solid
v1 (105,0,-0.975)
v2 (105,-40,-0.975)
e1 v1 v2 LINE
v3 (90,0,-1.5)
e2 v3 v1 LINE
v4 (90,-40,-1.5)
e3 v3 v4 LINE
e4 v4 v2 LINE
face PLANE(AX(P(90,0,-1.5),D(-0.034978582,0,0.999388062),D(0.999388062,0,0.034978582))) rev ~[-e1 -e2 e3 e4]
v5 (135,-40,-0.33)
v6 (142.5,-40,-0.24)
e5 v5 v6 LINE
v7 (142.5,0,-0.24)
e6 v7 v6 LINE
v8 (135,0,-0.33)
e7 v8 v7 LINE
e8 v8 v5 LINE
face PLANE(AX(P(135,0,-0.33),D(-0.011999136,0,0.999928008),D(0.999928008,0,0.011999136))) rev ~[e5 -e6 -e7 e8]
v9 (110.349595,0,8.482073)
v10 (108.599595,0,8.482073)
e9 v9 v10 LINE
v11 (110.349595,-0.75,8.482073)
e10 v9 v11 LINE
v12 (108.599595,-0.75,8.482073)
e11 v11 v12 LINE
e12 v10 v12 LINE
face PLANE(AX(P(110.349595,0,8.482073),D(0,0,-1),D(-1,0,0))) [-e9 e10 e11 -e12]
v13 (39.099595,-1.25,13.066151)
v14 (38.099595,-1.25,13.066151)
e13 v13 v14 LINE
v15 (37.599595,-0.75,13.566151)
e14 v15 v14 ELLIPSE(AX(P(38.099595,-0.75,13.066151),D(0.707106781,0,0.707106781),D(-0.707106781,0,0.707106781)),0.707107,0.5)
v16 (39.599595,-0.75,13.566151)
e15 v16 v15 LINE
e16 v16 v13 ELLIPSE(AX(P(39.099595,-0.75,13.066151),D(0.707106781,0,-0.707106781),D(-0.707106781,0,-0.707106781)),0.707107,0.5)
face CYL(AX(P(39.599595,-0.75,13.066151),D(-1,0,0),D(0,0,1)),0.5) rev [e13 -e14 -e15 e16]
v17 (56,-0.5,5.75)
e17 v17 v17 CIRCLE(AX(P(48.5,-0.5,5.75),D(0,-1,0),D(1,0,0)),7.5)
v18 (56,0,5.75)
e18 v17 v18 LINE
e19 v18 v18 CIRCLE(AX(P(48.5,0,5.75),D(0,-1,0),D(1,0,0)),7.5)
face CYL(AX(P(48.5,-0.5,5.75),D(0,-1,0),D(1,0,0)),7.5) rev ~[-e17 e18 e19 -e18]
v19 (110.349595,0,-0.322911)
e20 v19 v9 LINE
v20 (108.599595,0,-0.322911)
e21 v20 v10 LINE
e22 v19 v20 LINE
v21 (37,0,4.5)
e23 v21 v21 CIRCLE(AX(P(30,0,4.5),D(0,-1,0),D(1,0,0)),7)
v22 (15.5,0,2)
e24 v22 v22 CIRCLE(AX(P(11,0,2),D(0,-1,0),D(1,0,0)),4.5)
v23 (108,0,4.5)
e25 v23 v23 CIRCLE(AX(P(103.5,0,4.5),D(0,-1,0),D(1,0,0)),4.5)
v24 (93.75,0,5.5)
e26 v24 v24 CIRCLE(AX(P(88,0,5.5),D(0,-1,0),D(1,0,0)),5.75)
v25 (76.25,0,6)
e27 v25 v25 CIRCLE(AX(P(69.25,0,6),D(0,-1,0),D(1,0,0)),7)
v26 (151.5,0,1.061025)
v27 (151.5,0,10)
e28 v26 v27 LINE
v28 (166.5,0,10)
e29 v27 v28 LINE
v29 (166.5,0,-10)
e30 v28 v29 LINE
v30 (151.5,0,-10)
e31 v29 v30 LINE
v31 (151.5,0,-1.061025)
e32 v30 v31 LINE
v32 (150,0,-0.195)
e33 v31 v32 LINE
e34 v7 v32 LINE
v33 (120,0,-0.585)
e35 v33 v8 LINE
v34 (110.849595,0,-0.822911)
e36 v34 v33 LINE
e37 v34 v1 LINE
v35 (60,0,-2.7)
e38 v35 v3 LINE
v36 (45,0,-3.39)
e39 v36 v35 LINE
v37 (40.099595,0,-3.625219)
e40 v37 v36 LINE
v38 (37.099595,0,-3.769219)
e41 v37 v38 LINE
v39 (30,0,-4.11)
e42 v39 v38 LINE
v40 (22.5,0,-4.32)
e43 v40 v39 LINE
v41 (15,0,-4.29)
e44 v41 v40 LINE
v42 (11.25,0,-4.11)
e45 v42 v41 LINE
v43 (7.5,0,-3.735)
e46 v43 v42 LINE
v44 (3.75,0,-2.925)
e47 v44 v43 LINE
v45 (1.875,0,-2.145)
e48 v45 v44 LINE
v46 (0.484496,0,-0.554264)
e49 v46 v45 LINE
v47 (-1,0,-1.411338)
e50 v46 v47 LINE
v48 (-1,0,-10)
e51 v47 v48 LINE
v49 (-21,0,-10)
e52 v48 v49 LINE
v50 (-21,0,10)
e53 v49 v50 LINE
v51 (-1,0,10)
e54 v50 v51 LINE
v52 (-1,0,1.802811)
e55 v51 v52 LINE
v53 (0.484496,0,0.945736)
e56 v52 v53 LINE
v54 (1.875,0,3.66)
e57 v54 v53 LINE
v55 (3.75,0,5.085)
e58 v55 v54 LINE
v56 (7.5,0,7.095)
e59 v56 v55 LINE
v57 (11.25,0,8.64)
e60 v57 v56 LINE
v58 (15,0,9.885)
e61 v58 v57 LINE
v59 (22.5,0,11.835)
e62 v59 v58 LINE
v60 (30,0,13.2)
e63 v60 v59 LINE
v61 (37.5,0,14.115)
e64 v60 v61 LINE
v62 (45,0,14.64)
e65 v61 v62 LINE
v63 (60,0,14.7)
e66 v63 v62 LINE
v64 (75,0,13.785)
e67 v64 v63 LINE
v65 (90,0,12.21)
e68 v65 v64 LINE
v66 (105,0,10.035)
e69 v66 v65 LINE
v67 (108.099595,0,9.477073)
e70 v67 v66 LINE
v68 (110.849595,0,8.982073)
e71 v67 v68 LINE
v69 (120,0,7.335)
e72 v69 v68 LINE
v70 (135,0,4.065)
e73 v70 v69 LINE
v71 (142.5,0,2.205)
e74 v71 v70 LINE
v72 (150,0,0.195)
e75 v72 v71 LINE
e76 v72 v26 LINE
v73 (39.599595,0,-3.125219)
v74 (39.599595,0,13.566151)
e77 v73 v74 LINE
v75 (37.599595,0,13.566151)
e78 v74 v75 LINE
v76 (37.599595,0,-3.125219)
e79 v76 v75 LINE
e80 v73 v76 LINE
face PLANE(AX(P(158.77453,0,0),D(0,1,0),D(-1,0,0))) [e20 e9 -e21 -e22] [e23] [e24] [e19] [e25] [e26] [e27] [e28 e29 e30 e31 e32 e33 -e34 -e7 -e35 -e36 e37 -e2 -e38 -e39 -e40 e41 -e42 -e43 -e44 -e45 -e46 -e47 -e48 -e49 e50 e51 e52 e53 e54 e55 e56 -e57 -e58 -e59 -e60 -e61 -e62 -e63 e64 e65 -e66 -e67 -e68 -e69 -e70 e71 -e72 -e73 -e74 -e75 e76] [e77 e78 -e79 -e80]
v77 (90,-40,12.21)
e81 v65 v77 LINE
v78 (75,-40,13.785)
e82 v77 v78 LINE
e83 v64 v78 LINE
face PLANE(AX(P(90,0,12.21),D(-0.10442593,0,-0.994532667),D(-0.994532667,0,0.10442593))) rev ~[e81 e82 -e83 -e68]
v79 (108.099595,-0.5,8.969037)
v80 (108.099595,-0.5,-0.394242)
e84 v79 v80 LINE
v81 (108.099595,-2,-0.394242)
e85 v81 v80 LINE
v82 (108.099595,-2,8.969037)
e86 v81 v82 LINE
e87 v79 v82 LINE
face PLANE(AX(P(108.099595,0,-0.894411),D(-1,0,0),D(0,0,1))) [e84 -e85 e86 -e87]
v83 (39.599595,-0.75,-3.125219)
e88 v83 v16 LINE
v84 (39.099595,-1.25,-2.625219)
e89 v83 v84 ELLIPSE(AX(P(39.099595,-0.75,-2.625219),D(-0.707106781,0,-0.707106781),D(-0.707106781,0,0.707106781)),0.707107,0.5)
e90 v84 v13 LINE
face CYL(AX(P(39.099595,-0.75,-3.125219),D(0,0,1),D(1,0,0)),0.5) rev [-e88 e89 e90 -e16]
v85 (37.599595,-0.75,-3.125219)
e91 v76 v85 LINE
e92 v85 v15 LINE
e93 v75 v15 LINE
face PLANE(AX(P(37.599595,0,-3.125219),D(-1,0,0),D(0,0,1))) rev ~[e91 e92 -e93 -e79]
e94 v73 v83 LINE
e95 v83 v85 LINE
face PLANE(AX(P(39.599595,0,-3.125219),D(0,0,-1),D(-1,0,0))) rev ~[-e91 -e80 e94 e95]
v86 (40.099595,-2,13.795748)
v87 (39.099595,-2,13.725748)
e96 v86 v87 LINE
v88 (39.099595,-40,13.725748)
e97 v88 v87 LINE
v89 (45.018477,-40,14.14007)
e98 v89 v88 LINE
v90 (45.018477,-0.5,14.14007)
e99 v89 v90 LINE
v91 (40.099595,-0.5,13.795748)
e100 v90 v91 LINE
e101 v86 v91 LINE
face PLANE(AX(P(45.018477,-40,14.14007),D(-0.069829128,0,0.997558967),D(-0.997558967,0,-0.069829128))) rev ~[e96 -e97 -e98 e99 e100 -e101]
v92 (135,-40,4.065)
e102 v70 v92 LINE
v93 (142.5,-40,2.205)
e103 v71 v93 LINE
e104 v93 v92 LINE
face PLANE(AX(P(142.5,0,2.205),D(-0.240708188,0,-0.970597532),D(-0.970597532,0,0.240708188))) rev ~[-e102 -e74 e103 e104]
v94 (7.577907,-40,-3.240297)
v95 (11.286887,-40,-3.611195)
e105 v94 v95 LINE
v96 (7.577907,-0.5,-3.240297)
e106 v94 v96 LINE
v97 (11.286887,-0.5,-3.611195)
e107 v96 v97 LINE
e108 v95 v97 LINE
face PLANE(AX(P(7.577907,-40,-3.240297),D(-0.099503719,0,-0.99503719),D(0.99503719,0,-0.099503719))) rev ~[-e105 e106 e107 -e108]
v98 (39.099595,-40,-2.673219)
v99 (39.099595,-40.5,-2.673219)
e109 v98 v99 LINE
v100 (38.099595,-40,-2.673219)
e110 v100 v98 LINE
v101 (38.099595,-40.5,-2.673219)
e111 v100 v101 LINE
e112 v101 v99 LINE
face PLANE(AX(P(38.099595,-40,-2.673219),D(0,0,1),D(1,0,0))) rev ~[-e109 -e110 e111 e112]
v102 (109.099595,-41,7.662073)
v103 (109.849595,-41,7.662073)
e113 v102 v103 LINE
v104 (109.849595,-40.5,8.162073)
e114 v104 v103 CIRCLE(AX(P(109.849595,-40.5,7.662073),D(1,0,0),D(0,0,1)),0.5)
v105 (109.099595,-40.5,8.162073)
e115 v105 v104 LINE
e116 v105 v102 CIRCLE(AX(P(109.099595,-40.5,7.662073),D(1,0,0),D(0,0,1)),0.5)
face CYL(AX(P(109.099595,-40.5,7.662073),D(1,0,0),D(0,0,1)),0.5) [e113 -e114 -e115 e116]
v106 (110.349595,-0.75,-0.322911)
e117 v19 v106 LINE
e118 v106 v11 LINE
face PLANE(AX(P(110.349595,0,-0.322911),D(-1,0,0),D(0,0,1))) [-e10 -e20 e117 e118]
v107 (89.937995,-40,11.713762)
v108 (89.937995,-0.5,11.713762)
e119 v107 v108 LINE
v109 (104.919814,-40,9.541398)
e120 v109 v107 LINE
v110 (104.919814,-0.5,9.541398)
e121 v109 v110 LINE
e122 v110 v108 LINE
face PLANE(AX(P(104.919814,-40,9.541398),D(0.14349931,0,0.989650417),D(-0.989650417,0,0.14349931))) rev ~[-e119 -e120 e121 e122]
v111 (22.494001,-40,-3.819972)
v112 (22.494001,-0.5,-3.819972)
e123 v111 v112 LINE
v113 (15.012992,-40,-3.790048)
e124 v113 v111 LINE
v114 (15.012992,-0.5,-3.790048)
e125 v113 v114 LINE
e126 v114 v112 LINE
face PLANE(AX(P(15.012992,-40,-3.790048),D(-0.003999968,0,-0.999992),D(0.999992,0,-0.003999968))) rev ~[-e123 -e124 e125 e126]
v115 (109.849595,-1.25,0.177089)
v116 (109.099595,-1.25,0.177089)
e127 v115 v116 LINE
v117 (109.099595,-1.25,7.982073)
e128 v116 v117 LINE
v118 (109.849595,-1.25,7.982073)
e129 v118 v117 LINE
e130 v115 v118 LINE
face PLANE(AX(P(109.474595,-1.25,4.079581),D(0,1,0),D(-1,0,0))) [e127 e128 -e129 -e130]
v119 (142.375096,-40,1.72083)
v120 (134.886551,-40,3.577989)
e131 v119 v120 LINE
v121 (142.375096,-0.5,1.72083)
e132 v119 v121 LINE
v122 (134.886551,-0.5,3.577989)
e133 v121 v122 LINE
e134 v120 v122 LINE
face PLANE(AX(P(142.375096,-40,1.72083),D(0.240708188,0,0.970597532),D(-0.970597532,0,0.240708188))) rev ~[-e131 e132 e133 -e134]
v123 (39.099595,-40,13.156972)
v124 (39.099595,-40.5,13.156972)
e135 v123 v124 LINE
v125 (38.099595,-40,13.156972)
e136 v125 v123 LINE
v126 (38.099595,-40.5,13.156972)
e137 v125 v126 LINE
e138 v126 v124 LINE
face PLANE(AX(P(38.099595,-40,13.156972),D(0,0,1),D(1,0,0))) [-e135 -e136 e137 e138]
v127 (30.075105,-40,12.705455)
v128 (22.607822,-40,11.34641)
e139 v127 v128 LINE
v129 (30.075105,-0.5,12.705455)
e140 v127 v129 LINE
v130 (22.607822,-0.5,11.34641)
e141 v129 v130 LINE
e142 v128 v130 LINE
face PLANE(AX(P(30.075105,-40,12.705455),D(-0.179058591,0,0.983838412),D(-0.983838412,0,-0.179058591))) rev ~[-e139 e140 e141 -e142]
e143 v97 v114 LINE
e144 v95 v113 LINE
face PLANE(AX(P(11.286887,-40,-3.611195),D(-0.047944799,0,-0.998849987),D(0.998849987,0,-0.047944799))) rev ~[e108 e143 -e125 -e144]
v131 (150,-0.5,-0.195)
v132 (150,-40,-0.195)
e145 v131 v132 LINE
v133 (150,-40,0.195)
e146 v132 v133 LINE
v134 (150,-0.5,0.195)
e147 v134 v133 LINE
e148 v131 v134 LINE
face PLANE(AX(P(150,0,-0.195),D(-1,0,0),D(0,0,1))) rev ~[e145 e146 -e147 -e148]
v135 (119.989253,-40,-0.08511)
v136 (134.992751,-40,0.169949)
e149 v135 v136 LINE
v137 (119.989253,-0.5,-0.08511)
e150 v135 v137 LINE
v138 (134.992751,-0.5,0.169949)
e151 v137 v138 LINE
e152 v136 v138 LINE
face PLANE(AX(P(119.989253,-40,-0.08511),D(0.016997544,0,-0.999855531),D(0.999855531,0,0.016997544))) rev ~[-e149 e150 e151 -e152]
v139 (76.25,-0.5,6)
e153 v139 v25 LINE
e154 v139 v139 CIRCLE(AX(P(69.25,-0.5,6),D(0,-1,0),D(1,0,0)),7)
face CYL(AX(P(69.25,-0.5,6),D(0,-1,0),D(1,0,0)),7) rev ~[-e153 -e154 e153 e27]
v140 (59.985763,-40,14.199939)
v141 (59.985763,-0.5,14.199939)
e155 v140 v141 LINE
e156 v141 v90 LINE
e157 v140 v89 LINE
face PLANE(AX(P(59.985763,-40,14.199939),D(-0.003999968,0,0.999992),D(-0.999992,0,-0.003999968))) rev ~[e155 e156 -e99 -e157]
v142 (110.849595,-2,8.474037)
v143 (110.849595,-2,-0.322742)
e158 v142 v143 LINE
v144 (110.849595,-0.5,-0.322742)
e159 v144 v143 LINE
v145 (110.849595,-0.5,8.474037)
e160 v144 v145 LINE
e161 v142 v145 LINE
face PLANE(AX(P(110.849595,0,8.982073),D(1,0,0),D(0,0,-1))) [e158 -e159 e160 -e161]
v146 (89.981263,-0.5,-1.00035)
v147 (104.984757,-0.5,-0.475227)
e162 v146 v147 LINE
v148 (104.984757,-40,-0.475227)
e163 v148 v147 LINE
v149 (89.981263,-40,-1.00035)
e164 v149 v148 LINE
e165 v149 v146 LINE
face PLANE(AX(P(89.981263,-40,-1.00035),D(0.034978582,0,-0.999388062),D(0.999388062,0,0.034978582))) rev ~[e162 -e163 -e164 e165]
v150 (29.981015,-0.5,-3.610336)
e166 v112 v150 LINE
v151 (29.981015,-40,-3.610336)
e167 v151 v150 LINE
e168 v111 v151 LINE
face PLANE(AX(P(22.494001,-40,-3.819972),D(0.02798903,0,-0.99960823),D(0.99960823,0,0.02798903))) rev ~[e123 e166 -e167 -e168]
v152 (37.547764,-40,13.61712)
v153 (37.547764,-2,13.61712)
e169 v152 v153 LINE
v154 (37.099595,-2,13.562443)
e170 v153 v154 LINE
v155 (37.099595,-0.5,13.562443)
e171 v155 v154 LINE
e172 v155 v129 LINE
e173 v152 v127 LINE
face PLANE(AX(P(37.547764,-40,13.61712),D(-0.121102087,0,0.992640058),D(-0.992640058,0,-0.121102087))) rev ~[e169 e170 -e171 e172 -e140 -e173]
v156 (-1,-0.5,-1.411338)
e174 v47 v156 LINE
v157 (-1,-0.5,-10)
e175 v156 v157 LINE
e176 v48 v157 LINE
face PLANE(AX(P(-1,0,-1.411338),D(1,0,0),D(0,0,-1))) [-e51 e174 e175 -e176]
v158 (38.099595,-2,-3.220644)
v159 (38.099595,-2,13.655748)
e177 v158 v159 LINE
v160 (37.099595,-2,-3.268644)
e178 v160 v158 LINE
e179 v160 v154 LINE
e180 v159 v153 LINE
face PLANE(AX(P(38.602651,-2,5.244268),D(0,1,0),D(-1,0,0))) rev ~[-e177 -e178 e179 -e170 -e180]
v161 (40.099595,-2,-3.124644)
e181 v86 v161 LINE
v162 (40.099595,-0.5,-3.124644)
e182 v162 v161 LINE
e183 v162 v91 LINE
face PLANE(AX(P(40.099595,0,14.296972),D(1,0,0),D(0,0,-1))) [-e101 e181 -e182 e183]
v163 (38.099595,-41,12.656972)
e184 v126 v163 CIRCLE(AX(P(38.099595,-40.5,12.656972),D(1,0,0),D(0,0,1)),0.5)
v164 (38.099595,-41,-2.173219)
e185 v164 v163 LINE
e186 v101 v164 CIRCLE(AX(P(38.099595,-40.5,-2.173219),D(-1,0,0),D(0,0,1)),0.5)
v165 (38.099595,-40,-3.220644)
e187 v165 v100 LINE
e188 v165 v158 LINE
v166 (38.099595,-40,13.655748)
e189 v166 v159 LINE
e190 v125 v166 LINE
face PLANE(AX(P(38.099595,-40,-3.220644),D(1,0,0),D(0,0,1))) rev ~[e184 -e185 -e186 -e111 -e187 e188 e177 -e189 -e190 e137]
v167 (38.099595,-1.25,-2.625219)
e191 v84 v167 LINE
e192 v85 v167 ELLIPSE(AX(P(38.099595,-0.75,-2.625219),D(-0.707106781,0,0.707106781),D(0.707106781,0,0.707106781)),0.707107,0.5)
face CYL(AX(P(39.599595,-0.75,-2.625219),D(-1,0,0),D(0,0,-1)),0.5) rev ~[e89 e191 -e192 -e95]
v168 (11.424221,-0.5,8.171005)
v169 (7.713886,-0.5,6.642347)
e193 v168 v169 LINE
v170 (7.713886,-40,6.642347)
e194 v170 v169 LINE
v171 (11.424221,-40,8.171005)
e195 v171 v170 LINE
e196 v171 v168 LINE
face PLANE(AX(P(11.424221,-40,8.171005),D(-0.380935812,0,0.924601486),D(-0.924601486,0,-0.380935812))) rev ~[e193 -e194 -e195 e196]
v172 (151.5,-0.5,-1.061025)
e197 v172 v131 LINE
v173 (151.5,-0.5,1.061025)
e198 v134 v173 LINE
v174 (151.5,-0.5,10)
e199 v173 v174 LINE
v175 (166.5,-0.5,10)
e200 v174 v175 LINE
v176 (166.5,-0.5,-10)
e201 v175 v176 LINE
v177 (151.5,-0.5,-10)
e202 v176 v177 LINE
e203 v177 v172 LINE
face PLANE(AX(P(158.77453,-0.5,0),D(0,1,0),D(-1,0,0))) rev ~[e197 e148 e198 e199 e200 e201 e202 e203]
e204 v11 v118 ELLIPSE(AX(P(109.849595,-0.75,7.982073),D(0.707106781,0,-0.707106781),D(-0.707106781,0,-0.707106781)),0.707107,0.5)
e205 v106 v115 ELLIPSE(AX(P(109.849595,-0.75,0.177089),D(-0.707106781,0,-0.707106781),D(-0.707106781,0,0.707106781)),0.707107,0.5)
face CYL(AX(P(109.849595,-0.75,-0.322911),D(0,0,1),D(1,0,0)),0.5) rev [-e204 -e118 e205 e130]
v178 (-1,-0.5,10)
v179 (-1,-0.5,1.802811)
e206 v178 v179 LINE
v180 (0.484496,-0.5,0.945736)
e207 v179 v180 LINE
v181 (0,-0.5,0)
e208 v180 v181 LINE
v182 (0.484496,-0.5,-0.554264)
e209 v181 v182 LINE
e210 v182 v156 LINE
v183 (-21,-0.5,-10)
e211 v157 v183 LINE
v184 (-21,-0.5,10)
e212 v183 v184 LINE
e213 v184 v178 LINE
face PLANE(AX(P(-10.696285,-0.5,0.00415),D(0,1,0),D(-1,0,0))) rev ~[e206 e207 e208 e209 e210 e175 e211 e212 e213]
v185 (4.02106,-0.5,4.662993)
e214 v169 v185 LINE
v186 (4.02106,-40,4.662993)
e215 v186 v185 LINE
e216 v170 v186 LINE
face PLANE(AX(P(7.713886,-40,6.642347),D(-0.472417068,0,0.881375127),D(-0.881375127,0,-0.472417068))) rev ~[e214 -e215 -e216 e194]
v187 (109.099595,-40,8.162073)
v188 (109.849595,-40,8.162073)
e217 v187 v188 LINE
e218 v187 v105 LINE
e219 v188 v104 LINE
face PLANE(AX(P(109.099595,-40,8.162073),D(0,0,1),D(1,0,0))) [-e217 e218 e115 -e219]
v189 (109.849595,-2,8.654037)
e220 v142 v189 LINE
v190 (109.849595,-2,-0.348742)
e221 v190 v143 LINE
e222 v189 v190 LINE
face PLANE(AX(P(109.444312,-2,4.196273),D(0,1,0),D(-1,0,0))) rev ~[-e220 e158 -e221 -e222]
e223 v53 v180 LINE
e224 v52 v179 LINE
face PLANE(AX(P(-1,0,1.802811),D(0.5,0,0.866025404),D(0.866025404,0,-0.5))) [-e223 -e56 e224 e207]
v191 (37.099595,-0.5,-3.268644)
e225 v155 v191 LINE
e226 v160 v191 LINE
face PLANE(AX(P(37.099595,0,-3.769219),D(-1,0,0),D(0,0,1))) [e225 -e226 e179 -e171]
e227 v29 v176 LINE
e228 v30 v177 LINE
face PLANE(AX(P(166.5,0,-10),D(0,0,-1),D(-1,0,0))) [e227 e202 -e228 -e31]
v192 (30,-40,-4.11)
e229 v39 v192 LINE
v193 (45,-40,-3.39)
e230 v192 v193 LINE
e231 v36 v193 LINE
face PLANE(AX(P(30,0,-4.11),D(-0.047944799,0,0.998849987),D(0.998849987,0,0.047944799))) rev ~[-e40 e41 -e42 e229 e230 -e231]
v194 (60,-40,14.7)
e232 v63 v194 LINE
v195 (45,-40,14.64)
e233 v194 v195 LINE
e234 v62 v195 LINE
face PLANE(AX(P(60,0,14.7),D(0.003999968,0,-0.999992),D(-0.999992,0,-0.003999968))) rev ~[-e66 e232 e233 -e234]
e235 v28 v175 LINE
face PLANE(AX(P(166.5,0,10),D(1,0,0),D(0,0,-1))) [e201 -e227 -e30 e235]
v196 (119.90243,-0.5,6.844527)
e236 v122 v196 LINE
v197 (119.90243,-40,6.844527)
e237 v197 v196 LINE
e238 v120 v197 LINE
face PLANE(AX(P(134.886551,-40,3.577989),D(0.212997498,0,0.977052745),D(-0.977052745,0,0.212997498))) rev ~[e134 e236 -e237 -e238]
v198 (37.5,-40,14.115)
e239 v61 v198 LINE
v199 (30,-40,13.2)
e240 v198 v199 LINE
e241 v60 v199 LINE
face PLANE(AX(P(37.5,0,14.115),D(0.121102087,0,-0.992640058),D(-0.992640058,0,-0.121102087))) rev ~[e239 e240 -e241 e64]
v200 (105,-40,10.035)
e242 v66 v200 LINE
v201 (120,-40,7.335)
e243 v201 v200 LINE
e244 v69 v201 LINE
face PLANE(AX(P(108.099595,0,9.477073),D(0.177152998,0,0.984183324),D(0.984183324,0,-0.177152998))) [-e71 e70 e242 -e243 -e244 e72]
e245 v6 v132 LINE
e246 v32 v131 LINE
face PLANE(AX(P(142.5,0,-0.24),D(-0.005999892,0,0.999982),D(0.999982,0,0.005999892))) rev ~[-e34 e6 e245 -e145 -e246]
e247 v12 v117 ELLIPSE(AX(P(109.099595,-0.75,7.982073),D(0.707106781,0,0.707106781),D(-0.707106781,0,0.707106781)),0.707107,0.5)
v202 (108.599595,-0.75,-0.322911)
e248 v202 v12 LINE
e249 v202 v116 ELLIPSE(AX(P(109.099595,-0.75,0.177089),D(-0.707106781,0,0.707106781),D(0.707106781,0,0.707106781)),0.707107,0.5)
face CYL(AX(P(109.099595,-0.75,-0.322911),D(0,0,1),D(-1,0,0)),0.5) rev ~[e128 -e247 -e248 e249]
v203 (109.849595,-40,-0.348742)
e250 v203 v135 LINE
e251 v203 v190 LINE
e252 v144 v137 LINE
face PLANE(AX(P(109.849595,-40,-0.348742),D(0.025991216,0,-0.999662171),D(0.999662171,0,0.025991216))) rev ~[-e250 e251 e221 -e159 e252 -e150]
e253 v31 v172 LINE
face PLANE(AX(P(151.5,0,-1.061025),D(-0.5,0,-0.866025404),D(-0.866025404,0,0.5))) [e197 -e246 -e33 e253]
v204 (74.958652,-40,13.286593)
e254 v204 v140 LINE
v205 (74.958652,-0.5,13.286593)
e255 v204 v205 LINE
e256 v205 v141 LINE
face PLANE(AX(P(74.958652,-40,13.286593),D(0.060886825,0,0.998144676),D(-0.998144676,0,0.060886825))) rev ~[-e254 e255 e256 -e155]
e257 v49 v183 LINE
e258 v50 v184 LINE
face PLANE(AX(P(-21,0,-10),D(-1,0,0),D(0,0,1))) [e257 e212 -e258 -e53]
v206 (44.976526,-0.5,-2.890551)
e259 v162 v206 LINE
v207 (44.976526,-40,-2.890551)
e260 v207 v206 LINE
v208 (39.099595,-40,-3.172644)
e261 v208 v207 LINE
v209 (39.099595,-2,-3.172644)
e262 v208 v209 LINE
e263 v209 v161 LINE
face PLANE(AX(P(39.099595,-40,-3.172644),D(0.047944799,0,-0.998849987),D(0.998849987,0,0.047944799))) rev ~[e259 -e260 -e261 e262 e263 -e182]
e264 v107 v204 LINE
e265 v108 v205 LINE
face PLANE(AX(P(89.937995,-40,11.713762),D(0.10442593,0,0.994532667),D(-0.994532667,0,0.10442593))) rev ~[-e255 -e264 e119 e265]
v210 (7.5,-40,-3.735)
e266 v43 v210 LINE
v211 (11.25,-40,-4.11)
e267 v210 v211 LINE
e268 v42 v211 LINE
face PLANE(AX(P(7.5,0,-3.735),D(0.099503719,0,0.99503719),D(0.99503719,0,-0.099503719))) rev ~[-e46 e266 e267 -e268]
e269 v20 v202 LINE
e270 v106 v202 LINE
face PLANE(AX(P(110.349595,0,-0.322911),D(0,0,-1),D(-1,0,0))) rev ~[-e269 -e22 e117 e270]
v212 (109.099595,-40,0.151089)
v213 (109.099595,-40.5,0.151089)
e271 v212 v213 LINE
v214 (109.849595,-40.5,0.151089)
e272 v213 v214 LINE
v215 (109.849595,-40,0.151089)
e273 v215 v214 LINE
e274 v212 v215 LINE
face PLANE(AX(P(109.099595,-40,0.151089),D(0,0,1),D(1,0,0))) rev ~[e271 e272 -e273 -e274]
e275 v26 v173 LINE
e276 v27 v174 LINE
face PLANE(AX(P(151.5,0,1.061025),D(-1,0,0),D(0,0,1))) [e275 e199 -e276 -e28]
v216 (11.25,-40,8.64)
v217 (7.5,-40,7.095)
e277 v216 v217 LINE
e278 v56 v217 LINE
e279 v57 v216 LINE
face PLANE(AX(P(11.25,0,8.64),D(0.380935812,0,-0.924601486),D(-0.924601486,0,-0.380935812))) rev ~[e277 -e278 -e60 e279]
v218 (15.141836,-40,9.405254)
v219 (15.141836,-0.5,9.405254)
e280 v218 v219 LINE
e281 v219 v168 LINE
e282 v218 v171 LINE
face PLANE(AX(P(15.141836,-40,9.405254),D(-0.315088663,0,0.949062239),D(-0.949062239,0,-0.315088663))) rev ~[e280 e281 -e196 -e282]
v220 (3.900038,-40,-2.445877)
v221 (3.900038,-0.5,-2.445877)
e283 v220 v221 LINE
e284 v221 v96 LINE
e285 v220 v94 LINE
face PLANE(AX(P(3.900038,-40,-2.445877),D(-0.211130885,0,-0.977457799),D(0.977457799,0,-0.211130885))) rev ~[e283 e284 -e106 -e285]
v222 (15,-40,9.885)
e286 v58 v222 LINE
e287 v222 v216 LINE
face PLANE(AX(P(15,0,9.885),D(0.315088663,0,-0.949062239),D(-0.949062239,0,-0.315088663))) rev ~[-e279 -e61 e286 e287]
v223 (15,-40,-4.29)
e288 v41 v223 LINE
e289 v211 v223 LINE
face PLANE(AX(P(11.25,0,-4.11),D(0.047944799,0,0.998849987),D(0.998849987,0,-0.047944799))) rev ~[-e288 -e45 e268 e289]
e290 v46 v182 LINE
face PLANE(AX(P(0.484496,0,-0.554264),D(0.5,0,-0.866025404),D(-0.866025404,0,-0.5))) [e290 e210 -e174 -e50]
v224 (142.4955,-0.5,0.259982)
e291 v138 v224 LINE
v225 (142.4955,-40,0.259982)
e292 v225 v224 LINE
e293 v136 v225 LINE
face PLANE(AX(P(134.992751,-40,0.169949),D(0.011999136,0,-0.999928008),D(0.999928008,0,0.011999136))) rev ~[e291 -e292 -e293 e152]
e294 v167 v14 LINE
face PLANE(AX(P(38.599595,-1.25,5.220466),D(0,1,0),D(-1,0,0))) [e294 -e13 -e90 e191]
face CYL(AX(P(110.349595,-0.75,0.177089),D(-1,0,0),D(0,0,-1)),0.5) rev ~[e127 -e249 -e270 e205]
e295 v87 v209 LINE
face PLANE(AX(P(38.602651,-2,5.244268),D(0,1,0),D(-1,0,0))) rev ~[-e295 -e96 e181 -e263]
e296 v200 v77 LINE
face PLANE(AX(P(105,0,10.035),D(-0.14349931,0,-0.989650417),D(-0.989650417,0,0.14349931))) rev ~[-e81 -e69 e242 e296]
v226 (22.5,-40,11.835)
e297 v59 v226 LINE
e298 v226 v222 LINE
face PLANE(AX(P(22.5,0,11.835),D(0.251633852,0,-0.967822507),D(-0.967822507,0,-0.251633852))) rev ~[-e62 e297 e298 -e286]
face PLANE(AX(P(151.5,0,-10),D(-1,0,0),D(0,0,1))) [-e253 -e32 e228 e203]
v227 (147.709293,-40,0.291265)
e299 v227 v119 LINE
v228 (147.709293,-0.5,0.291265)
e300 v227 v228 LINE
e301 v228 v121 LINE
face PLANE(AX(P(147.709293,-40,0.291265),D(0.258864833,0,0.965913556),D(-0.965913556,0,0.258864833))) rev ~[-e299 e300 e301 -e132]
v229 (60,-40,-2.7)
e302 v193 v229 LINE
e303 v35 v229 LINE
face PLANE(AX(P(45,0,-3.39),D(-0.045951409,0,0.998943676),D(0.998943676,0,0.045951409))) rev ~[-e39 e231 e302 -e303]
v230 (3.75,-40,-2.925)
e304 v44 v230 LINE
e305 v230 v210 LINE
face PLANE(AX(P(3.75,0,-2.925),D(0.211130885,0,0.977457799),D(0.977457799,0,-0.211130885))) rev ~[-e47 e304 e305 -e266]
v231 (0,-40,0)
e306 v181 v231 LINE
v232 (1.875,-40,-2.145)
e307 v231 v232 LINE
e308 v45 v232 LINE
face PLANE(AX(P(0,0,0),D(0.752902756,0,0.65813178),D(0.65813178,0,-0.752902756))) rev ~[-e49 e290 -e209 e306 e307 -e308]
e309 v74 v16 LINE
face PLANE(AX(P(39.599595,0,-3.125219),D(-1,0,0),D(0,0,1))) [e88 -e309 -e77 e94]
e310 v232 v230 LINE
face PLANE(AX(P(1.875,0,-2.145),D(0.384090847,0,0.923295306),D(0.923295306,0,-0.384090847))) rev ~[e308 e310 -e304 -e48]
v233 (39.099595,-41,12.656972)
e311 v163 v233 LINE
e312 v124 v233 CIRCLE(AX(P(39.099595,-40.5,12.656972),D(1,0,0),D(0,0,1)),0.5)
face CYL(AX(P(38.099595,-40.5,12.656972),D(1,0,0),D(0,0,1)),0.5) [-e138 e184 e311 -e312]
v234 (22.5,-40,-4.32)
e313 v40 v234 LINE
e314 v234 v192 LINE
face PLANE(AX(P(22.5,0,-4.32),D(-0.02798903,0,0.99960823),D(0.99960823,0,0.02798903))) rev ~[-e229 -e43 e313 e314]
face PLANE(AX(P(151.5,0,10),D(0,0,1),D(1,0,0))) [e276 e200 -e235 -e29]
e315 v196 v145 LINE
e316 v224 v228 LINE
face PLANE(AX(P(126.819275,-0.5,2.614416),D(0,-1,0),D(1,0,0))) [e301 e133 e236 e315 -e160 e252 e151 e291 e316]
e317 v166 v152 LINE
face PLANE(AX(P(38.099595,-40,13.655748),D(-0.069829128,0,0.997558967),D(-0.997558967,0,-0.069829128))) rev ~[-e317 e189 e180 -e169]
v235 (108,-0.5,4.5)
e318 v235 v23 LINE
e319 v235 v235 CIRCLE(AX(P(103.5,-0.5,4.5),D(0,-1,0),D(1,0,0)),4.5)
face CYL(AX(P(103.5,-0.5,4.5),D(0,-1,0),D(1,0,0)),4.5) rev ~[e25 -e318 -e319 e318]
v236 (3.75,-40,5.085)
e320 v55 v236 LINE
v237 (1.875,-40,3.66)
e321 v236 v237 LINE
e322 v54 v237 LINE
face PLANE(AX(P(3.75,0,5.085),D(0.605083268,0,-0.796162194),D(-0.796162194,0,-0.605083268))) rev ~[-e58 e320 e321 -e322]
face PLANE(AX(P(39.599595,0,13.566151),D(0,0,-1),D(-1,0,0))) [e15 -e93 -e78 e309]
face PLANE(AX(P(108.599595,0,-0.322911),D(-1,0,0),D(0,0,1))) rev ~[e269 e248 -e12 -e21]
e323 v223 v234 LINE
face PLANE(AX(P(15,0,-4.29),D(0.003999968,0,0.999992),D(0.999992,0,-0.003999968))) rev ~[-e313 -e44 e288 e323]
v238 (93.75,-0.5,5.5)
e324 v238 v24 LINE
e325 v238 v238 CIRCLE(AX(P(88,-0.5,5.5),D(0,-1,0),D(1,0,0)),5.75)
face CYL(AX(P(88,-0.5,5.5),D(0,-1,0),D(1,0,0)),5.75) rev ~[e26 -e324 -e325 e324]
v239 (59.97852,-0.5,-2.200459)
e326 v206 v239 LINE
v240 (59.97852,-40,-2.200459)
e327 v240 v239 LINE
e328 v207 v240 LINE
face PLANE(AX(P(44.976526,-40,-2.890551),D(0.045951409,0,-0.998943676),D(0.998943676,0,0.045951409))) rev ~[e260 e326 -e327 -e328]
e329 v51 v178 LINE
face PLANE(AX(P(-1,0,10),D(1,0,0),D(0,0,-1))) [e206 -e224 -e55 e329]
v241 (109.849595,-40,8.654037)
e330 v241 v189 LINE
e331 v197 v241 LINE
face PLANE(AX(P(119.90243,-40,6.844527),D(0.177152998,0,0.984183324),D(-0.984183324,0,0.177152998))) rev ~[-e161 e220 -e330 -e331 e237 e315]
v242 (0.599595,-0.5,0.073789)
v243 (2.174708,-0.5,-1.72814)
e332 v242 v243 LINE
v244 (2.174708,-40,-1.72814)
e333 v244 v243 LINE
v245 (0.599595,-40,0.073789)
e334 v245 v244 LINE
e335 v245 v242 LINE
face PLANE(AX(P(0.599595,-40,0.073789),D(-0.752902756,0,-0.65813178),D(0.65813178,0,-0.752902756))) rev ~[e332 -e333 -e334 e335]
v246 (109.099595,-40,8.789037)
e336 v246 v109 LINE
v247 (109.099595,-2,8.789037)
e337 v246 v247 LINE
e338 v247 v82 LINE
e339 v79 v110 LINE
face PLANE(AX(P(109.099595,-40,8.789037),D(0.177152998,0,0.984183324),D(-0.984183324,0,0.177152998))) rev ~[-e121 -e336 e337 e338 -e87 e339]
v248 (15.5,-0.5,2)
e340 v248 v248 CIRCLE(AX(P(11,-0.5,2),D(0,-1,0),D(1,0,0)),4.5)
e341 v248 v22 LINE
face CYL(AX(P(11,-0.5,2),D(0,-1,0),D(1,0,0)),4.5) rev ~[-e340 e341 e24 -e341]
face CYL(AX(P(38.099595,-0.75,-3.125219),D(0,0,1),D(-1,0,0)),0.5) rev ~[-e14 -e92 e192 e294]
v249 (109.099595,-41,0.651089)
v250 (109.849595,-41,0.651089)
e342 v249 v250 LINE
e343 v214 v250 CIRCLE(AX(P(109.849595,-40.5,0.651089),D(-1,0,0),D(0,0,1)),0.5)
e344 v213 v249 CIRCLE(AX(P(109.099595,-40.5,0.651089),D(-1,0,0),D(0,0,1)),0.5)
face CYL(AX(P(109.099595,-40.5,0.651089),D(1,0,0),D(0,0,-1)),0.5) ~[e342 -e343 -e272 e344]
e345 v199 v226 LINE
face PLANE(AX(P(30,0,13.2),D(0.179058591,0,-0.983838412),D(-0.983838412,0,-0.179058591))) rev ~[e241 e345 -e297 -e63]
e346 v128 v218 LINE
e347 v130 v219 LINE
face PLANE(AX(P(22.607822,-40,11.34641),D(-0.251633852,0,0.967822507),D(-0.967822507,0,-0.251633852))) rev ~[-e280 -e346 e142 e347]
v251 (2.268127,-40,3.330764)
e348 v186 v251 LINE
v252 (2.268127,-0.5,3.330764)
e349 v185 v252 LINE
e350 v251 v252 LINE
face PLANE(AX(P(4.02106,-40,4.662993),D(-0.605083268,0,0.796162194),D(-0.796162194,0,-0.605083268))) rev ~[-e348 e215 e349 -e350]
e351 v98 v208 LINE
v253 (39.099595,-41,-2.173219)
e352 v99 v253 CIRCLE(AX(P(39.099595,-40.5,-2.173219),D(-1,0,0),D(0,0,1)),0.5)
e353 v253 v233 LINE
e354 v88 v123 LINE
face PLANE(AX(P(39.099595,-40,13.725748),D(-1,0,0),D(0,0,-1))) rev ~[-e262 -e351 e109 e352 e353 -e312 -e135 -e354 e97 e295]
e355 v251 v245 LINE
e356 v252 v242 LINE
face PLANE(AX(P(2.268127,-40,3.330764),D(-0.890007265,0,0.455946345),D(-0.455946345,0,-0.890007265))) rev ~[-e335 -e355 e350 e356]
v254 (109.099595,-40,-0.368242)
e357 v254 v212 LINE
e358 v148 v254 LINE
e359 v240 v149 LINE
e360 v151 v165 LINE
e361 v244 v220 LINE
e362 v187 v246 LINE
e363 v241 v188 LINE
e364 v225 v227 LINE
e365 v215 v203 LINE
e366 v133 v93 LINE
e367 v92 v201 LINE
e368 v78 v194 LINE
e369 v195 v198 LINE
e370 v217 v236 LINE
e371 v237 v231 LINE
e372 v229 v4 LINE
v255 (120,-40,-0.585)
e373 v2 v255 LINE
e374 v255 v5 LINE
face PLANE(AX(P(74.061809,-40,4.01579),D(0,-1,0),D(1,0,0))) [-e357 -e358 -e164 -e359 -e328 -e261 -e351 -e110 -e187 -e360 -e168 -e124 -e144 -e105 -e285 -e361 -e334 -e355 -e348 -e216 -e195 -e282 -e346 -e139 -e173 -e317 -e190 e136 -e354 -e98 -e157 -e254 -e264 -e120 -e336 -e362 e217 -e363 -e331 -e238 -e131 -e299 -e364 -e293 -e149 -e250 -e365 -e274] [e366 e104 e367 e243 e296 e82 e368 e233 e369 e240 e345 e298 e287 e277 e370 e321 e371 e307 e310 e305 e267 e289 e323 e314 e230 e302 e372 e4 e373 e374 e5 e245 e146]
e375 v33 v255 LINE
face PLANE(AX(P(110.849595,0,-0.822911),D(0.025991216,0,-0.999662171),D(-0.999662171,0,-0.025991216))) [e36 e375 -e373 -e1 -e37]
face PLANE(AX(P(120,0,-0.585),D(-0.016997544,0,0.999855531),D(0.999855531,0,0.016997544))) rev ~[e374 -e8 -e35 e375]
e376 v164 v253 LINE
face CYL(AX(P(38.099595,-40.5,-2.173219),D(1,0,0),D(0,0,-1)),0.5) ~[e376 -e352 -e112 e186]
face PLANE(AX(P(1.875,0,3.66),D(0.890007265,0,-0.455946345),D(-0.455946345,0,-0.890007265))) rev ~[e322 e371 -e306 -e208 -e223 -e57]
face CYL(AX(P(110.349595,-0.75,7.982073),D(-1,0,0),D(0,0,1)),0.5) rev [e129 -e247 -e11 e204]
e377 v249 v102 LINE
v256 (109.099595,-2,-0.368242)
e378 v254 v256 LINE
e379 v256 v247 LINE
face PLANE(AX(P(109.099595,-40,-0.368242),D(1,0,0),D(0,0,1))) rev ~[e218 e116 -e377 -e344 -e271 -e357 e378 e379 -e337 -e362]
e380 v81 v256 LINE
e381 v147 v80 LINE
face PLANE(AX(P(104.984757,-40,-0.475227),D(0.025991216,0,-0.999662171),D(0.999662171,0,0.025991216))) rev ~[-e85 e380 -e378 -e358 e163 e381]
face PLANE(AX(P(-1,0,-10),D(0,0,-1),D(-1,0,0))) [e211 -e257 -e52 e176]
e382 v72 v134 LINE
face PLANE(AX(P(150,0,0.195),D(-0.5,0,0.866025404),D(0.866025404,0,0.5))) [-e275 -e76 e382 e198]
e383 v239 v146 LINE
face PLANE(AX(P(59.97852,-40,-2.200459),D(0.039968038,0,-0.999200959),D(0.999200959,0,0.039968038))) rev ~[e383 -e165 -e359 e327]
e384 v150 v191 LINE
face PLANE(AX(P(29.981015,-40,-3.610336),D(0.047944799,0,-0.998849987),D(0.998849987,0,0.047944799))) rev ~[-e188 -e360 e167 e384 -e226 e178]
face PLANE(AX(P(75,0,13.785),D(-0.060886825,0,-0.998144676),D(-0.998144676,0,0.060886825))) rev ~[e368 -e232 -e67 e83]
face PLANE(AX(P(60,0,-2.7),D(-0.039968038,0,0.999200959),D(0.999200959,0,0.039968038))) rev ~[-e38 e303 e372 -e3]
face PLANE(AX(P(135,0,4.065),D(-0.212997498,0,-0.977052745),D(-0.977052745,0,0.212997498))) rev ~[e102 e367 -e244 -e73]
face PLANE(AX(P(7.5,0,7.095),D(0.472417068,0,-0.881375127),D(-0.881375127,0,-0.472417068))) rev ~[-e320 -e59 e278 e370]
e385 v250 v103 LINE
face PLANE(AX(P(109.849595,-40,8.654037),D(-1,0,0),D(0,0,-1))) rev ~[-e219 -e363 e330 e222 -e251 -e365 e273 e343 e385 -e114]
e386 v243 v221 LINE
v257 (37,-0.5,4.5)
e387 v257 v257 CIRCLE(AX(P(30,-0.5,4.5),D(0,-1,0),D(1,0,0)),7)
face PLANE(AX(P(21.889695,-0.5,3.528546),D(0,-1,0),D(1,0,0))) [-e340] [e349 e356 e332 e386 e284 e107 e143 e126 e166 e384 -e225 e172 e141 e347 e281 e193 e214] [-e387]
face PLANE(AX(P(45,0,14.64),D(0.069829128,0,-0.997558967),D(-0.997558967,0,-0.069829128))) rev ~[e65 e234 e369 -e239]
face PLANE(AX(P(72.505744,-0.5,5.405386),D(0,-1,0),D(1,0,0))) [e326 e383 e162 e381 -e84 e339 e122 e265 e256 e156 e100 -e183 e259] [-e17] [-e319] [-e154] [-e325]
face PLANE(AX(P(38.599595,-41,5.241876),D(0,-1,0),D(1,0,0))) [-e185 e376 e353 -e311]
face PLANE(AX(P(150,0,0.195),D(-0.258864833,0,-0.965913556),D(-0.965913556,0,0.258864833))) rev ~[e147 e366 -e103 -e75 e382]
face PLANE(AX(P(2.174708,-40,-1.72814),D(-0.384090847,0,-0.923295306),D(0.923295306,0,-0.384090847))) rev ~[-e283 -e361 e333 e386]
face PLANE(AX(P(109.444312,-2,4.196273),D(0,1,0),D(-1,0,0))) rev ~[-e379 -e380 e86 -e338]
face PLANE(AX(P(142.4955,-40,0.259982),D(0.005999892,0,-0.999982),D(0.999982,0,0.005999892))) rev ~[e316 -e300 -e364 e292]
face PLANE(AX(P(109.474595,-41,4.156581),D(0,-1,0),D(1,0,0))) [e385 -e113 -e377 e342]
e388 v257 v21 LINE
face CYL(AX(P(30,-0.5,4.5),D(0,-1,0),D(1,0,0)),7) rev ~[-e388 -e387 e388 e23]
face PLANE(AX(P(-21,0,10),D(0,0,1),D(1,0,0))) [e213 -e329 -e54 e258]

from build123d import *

# Parameters (mm, degrees)
F1_DEPTH  = 40
F3_DEPTH  = 39.5
F4_R      = 4.5
F4_R_2    = 7
F4_R_3    = 7.5
F4_R_4    = 5.75
F5_DEPTH  = 0.501
F7_DEPTH  = 2
F8_W      = 1.75
F8_H      = 8.804983391
F8_W_2    = 2
F8_H_2    = 16.691370044
F9_DEPTH  = 1.25
F10_R     = 0.5
F11_W     = 0.75
F11_H     = 8.010983391
F11_W_2   = 1
F11_H_2   = 15.8301910942
F12_DEPTH = 1
F13_R     = 0.5
F15_DEPTH = 0.5
F17_DEPTH = 0.5


with BuildPart() as f1:
    # F0 (on Front) → F1 (new body)
    with BuildSketch(Plane.XZ):
        Polygon((150, -0.195), (150, 0.195), (142.5, 2.205), (135, 4.065), (120, 7.335), (105, 10.035), (90, 12.21), (75, 13.785), (60, 14.7), (45, 14.64), (37.5, 14.115), (30, 13.2), (22.5, 11.835), (15, 9.885), (11.25, 8.64), (7.5, 7.095), (3.75, 5.085), (1.875, 3.66), (0, 0), (1.875, -2.145), (3.75, -2.925), (7.5, -3.735), (11.25, -4.11), (15, -4.29), (22.5, -4.32), (30, -4.11), (37.5, -3.75), (45, -3.39), (60, -2.7), (75, -2.1), (90, -1.5), (105, -0.975), (120, -0.585), (135, -0.33), (142.5, -0.24), align=None)
    extrude(amount=F1_DEPTH)

    # F2 (on face) → F3 (cut)
    with BuildSketch(Plane.XZ.offset(40)):
        Polygon((22.494001199, -3.8199719571), (29.9810146479, -3.6103355805), (38.0995951893, -3.2206437145), (38.0995951893, 13.6557481124), (37.5477644894, 13.6171199634), (30.0751046996, 12.705455469), (22.6078220145, 11.3464100203), (15.1418358981, 9.4052536301), (11.4242210448, 8.1710054988), (7.7138856453, 6.6423473142), (4.0210598526, 4.6629926893), (2.2681271547, 3.3307638389), (0.5995951893, 0.0737894424), (2.1747084318, -1.728140107), (3.9000375829, -2.4458770339), (7.577907371, -3.2402969081), (11.2868867814, -3.6111948491), (15.0129924699, -3.7900479222), align=None)
        Polygon((89.9812632263, -1.0003495831), (104.9847572408, -0.4752272926), (109.0995951893, -0.3682415059), (109.0995951893, 8.7890373856), (104.9198136118, 9.5413980696), (89.9379946481, 11.7137618193), (74.958652077, 13.2865927893), (59.985763287, 14.1999390054), (45.0184773208, 14.1400698616), (39.0995951893, 13.7257481124), (39.0995951893, -3.1726437145), (44.9765259223, -2.8905510394), (59.9785199435, -2.2004593144), align=None)
        Polygon((109.8495951893, -0.3487415059), (119.9892525914, -0.0851104134), (134.992750784, 0.1699490558), (142.4955002021, 0.2599820488), (147.7092928365, 0.2912648047), (142.3750957537, 1.7208296229), (134.8865506068, 3.5779888193), (119.9024297861, 6.8445271582), (109.8495951893, 8.6540373856), align=None)
    extrude(amount=-F3_DEPTH, mode=Mode.SUBTRACT)

    # F4 (on face) → F5 (cut, through all)
    with BuildSketch(Plane.XZ.offset(0.5)):
        with Locations((11, 2)):
            Circle(F4_R)
        with Locations((30, 4.5)):
            Circle(F4_R_2)
        with Locations((48.5, 5.75)):
            Circle(F4_R_3)
        with Locations((69.25, 6)):
            Circle(F4_R_2)
        with Locations((88, 5.5)):
            Circle(F4_R_4)
        with Locations((103.5, 4.5)):
            Circle(F4_R)
    extrude(amount=-F5_DEPTH, mode=Mode.SUBTRACT)

    # F6 (on face) → F7 (join)
    with BuildSketch(Plane(origin=(0, 0, 0), x_dir=(-1, 0, 0), z_dir=(0, 1, 0))):
        Polygon((-110.8495951893, -0.8229105251), (-108.0995951893, -0.8944105251), (-108.0995951893, 9.4770728659), (-110.8495951893, 8.9820728659), align=None)
        Polygon((-37.0995951893, -3.7692194309), (-37.0995951893, 14.0661506131), (-37.5, 14.115), (-40.0995951893, 14.2969716633), (-40.0995951893, -3.6252194309), align=None)
    extrude(amount=-F7_DEPTH)

    # F8 (on face) → F9 (cut)
    with BuildSketch(Plane(origin=(0, 0, 0), x_dir=(-1, 0, 0), z_dir=(0, 1, 0))):
        with Locations((-109.4745951893, 4.0795811704)):
            Rectangle(F8_W, F8_H)
        with Locations((-38.5995951893, 5.2204655911)):
            Rectangle(F8_W_2, F8_H_2)
    extrude(amount=-F9_DEPTH, mode=Mode.SUBTRACT)

    # F10
    f10_edges = [f1.edges().sort_by_distance(p)[0] for p in [
        (37.599595, -1.25, 5.220466),
        (38.599595, -1.25, 13.566151),
        (39.599595, -1.25, 5.220466),
        (38.599595, -1.25, -3.125219),
        (108.599595, -1.25, 4.079581),
        (109.474595, -1.25, 8.482073),
        (110.349595, -1.25, 4.079581),
        (109.474595, -1.25, -0.322911),
    ]]
    fillet(f10_edges, radius=F10_R)

    # F11 (on face) → F12 (join)
    with BuildSketch(Plane.XZ.offset(40)):
        with Locations((109.4745951893, 4.1565811704)):
            Rectangle(F11_W, F11_H)
        with Locations((38.5995951893, 5.2418761162)):
            Rectangle(F11_W_2, F11_H_2)
    extrude(amount=F12_DEPTH)

    # F13
    f13_edges = [f1.edges().sort_by_distance(p)[0] for p in [
        (38.599595, -41, 13.156972),
        (38.599595, -41, -2.673219),
        (109.474595, -41, 0.151089),
        (109.474595, -41, 8.162073),
    ]]
    fillet(f13_edges, radius=F13_R)

    # F14 (on face) → F15 (join)
    with BuildSketch(Plane(origin=(0, 0, 0), x_dir=(-1, 0, 0), z_dir=(0, 1, 0))):
        Polygon((21, 10), (1, 10), (1, 1.8028106709), (-0.484496124, 0.9457364341), (0, 0), (-0.484496124, -0.5542635659), (1, -1.4113378027), (1, -10), (21, -10), align=None)
    extrude(amount=-F15_DEPTH)

    # F16 (on face) → F17 (join)
    with BuildSketch(Plane(origin=(0, 0, 0), x_dir=(-1, 0, 0), z_dir=(0, 1, 0))):
        Polygon((-151.5, 1.0610254038), (-151.5, 10), (-166.5, 10), (-166.5, -10), (-151.5, -10), (-151.5, -1.0610254038), (-150, -0.195), (-150, 0.195), align=None)
    extrude(amount=-F17_DEPTH)


solid = f1.part
